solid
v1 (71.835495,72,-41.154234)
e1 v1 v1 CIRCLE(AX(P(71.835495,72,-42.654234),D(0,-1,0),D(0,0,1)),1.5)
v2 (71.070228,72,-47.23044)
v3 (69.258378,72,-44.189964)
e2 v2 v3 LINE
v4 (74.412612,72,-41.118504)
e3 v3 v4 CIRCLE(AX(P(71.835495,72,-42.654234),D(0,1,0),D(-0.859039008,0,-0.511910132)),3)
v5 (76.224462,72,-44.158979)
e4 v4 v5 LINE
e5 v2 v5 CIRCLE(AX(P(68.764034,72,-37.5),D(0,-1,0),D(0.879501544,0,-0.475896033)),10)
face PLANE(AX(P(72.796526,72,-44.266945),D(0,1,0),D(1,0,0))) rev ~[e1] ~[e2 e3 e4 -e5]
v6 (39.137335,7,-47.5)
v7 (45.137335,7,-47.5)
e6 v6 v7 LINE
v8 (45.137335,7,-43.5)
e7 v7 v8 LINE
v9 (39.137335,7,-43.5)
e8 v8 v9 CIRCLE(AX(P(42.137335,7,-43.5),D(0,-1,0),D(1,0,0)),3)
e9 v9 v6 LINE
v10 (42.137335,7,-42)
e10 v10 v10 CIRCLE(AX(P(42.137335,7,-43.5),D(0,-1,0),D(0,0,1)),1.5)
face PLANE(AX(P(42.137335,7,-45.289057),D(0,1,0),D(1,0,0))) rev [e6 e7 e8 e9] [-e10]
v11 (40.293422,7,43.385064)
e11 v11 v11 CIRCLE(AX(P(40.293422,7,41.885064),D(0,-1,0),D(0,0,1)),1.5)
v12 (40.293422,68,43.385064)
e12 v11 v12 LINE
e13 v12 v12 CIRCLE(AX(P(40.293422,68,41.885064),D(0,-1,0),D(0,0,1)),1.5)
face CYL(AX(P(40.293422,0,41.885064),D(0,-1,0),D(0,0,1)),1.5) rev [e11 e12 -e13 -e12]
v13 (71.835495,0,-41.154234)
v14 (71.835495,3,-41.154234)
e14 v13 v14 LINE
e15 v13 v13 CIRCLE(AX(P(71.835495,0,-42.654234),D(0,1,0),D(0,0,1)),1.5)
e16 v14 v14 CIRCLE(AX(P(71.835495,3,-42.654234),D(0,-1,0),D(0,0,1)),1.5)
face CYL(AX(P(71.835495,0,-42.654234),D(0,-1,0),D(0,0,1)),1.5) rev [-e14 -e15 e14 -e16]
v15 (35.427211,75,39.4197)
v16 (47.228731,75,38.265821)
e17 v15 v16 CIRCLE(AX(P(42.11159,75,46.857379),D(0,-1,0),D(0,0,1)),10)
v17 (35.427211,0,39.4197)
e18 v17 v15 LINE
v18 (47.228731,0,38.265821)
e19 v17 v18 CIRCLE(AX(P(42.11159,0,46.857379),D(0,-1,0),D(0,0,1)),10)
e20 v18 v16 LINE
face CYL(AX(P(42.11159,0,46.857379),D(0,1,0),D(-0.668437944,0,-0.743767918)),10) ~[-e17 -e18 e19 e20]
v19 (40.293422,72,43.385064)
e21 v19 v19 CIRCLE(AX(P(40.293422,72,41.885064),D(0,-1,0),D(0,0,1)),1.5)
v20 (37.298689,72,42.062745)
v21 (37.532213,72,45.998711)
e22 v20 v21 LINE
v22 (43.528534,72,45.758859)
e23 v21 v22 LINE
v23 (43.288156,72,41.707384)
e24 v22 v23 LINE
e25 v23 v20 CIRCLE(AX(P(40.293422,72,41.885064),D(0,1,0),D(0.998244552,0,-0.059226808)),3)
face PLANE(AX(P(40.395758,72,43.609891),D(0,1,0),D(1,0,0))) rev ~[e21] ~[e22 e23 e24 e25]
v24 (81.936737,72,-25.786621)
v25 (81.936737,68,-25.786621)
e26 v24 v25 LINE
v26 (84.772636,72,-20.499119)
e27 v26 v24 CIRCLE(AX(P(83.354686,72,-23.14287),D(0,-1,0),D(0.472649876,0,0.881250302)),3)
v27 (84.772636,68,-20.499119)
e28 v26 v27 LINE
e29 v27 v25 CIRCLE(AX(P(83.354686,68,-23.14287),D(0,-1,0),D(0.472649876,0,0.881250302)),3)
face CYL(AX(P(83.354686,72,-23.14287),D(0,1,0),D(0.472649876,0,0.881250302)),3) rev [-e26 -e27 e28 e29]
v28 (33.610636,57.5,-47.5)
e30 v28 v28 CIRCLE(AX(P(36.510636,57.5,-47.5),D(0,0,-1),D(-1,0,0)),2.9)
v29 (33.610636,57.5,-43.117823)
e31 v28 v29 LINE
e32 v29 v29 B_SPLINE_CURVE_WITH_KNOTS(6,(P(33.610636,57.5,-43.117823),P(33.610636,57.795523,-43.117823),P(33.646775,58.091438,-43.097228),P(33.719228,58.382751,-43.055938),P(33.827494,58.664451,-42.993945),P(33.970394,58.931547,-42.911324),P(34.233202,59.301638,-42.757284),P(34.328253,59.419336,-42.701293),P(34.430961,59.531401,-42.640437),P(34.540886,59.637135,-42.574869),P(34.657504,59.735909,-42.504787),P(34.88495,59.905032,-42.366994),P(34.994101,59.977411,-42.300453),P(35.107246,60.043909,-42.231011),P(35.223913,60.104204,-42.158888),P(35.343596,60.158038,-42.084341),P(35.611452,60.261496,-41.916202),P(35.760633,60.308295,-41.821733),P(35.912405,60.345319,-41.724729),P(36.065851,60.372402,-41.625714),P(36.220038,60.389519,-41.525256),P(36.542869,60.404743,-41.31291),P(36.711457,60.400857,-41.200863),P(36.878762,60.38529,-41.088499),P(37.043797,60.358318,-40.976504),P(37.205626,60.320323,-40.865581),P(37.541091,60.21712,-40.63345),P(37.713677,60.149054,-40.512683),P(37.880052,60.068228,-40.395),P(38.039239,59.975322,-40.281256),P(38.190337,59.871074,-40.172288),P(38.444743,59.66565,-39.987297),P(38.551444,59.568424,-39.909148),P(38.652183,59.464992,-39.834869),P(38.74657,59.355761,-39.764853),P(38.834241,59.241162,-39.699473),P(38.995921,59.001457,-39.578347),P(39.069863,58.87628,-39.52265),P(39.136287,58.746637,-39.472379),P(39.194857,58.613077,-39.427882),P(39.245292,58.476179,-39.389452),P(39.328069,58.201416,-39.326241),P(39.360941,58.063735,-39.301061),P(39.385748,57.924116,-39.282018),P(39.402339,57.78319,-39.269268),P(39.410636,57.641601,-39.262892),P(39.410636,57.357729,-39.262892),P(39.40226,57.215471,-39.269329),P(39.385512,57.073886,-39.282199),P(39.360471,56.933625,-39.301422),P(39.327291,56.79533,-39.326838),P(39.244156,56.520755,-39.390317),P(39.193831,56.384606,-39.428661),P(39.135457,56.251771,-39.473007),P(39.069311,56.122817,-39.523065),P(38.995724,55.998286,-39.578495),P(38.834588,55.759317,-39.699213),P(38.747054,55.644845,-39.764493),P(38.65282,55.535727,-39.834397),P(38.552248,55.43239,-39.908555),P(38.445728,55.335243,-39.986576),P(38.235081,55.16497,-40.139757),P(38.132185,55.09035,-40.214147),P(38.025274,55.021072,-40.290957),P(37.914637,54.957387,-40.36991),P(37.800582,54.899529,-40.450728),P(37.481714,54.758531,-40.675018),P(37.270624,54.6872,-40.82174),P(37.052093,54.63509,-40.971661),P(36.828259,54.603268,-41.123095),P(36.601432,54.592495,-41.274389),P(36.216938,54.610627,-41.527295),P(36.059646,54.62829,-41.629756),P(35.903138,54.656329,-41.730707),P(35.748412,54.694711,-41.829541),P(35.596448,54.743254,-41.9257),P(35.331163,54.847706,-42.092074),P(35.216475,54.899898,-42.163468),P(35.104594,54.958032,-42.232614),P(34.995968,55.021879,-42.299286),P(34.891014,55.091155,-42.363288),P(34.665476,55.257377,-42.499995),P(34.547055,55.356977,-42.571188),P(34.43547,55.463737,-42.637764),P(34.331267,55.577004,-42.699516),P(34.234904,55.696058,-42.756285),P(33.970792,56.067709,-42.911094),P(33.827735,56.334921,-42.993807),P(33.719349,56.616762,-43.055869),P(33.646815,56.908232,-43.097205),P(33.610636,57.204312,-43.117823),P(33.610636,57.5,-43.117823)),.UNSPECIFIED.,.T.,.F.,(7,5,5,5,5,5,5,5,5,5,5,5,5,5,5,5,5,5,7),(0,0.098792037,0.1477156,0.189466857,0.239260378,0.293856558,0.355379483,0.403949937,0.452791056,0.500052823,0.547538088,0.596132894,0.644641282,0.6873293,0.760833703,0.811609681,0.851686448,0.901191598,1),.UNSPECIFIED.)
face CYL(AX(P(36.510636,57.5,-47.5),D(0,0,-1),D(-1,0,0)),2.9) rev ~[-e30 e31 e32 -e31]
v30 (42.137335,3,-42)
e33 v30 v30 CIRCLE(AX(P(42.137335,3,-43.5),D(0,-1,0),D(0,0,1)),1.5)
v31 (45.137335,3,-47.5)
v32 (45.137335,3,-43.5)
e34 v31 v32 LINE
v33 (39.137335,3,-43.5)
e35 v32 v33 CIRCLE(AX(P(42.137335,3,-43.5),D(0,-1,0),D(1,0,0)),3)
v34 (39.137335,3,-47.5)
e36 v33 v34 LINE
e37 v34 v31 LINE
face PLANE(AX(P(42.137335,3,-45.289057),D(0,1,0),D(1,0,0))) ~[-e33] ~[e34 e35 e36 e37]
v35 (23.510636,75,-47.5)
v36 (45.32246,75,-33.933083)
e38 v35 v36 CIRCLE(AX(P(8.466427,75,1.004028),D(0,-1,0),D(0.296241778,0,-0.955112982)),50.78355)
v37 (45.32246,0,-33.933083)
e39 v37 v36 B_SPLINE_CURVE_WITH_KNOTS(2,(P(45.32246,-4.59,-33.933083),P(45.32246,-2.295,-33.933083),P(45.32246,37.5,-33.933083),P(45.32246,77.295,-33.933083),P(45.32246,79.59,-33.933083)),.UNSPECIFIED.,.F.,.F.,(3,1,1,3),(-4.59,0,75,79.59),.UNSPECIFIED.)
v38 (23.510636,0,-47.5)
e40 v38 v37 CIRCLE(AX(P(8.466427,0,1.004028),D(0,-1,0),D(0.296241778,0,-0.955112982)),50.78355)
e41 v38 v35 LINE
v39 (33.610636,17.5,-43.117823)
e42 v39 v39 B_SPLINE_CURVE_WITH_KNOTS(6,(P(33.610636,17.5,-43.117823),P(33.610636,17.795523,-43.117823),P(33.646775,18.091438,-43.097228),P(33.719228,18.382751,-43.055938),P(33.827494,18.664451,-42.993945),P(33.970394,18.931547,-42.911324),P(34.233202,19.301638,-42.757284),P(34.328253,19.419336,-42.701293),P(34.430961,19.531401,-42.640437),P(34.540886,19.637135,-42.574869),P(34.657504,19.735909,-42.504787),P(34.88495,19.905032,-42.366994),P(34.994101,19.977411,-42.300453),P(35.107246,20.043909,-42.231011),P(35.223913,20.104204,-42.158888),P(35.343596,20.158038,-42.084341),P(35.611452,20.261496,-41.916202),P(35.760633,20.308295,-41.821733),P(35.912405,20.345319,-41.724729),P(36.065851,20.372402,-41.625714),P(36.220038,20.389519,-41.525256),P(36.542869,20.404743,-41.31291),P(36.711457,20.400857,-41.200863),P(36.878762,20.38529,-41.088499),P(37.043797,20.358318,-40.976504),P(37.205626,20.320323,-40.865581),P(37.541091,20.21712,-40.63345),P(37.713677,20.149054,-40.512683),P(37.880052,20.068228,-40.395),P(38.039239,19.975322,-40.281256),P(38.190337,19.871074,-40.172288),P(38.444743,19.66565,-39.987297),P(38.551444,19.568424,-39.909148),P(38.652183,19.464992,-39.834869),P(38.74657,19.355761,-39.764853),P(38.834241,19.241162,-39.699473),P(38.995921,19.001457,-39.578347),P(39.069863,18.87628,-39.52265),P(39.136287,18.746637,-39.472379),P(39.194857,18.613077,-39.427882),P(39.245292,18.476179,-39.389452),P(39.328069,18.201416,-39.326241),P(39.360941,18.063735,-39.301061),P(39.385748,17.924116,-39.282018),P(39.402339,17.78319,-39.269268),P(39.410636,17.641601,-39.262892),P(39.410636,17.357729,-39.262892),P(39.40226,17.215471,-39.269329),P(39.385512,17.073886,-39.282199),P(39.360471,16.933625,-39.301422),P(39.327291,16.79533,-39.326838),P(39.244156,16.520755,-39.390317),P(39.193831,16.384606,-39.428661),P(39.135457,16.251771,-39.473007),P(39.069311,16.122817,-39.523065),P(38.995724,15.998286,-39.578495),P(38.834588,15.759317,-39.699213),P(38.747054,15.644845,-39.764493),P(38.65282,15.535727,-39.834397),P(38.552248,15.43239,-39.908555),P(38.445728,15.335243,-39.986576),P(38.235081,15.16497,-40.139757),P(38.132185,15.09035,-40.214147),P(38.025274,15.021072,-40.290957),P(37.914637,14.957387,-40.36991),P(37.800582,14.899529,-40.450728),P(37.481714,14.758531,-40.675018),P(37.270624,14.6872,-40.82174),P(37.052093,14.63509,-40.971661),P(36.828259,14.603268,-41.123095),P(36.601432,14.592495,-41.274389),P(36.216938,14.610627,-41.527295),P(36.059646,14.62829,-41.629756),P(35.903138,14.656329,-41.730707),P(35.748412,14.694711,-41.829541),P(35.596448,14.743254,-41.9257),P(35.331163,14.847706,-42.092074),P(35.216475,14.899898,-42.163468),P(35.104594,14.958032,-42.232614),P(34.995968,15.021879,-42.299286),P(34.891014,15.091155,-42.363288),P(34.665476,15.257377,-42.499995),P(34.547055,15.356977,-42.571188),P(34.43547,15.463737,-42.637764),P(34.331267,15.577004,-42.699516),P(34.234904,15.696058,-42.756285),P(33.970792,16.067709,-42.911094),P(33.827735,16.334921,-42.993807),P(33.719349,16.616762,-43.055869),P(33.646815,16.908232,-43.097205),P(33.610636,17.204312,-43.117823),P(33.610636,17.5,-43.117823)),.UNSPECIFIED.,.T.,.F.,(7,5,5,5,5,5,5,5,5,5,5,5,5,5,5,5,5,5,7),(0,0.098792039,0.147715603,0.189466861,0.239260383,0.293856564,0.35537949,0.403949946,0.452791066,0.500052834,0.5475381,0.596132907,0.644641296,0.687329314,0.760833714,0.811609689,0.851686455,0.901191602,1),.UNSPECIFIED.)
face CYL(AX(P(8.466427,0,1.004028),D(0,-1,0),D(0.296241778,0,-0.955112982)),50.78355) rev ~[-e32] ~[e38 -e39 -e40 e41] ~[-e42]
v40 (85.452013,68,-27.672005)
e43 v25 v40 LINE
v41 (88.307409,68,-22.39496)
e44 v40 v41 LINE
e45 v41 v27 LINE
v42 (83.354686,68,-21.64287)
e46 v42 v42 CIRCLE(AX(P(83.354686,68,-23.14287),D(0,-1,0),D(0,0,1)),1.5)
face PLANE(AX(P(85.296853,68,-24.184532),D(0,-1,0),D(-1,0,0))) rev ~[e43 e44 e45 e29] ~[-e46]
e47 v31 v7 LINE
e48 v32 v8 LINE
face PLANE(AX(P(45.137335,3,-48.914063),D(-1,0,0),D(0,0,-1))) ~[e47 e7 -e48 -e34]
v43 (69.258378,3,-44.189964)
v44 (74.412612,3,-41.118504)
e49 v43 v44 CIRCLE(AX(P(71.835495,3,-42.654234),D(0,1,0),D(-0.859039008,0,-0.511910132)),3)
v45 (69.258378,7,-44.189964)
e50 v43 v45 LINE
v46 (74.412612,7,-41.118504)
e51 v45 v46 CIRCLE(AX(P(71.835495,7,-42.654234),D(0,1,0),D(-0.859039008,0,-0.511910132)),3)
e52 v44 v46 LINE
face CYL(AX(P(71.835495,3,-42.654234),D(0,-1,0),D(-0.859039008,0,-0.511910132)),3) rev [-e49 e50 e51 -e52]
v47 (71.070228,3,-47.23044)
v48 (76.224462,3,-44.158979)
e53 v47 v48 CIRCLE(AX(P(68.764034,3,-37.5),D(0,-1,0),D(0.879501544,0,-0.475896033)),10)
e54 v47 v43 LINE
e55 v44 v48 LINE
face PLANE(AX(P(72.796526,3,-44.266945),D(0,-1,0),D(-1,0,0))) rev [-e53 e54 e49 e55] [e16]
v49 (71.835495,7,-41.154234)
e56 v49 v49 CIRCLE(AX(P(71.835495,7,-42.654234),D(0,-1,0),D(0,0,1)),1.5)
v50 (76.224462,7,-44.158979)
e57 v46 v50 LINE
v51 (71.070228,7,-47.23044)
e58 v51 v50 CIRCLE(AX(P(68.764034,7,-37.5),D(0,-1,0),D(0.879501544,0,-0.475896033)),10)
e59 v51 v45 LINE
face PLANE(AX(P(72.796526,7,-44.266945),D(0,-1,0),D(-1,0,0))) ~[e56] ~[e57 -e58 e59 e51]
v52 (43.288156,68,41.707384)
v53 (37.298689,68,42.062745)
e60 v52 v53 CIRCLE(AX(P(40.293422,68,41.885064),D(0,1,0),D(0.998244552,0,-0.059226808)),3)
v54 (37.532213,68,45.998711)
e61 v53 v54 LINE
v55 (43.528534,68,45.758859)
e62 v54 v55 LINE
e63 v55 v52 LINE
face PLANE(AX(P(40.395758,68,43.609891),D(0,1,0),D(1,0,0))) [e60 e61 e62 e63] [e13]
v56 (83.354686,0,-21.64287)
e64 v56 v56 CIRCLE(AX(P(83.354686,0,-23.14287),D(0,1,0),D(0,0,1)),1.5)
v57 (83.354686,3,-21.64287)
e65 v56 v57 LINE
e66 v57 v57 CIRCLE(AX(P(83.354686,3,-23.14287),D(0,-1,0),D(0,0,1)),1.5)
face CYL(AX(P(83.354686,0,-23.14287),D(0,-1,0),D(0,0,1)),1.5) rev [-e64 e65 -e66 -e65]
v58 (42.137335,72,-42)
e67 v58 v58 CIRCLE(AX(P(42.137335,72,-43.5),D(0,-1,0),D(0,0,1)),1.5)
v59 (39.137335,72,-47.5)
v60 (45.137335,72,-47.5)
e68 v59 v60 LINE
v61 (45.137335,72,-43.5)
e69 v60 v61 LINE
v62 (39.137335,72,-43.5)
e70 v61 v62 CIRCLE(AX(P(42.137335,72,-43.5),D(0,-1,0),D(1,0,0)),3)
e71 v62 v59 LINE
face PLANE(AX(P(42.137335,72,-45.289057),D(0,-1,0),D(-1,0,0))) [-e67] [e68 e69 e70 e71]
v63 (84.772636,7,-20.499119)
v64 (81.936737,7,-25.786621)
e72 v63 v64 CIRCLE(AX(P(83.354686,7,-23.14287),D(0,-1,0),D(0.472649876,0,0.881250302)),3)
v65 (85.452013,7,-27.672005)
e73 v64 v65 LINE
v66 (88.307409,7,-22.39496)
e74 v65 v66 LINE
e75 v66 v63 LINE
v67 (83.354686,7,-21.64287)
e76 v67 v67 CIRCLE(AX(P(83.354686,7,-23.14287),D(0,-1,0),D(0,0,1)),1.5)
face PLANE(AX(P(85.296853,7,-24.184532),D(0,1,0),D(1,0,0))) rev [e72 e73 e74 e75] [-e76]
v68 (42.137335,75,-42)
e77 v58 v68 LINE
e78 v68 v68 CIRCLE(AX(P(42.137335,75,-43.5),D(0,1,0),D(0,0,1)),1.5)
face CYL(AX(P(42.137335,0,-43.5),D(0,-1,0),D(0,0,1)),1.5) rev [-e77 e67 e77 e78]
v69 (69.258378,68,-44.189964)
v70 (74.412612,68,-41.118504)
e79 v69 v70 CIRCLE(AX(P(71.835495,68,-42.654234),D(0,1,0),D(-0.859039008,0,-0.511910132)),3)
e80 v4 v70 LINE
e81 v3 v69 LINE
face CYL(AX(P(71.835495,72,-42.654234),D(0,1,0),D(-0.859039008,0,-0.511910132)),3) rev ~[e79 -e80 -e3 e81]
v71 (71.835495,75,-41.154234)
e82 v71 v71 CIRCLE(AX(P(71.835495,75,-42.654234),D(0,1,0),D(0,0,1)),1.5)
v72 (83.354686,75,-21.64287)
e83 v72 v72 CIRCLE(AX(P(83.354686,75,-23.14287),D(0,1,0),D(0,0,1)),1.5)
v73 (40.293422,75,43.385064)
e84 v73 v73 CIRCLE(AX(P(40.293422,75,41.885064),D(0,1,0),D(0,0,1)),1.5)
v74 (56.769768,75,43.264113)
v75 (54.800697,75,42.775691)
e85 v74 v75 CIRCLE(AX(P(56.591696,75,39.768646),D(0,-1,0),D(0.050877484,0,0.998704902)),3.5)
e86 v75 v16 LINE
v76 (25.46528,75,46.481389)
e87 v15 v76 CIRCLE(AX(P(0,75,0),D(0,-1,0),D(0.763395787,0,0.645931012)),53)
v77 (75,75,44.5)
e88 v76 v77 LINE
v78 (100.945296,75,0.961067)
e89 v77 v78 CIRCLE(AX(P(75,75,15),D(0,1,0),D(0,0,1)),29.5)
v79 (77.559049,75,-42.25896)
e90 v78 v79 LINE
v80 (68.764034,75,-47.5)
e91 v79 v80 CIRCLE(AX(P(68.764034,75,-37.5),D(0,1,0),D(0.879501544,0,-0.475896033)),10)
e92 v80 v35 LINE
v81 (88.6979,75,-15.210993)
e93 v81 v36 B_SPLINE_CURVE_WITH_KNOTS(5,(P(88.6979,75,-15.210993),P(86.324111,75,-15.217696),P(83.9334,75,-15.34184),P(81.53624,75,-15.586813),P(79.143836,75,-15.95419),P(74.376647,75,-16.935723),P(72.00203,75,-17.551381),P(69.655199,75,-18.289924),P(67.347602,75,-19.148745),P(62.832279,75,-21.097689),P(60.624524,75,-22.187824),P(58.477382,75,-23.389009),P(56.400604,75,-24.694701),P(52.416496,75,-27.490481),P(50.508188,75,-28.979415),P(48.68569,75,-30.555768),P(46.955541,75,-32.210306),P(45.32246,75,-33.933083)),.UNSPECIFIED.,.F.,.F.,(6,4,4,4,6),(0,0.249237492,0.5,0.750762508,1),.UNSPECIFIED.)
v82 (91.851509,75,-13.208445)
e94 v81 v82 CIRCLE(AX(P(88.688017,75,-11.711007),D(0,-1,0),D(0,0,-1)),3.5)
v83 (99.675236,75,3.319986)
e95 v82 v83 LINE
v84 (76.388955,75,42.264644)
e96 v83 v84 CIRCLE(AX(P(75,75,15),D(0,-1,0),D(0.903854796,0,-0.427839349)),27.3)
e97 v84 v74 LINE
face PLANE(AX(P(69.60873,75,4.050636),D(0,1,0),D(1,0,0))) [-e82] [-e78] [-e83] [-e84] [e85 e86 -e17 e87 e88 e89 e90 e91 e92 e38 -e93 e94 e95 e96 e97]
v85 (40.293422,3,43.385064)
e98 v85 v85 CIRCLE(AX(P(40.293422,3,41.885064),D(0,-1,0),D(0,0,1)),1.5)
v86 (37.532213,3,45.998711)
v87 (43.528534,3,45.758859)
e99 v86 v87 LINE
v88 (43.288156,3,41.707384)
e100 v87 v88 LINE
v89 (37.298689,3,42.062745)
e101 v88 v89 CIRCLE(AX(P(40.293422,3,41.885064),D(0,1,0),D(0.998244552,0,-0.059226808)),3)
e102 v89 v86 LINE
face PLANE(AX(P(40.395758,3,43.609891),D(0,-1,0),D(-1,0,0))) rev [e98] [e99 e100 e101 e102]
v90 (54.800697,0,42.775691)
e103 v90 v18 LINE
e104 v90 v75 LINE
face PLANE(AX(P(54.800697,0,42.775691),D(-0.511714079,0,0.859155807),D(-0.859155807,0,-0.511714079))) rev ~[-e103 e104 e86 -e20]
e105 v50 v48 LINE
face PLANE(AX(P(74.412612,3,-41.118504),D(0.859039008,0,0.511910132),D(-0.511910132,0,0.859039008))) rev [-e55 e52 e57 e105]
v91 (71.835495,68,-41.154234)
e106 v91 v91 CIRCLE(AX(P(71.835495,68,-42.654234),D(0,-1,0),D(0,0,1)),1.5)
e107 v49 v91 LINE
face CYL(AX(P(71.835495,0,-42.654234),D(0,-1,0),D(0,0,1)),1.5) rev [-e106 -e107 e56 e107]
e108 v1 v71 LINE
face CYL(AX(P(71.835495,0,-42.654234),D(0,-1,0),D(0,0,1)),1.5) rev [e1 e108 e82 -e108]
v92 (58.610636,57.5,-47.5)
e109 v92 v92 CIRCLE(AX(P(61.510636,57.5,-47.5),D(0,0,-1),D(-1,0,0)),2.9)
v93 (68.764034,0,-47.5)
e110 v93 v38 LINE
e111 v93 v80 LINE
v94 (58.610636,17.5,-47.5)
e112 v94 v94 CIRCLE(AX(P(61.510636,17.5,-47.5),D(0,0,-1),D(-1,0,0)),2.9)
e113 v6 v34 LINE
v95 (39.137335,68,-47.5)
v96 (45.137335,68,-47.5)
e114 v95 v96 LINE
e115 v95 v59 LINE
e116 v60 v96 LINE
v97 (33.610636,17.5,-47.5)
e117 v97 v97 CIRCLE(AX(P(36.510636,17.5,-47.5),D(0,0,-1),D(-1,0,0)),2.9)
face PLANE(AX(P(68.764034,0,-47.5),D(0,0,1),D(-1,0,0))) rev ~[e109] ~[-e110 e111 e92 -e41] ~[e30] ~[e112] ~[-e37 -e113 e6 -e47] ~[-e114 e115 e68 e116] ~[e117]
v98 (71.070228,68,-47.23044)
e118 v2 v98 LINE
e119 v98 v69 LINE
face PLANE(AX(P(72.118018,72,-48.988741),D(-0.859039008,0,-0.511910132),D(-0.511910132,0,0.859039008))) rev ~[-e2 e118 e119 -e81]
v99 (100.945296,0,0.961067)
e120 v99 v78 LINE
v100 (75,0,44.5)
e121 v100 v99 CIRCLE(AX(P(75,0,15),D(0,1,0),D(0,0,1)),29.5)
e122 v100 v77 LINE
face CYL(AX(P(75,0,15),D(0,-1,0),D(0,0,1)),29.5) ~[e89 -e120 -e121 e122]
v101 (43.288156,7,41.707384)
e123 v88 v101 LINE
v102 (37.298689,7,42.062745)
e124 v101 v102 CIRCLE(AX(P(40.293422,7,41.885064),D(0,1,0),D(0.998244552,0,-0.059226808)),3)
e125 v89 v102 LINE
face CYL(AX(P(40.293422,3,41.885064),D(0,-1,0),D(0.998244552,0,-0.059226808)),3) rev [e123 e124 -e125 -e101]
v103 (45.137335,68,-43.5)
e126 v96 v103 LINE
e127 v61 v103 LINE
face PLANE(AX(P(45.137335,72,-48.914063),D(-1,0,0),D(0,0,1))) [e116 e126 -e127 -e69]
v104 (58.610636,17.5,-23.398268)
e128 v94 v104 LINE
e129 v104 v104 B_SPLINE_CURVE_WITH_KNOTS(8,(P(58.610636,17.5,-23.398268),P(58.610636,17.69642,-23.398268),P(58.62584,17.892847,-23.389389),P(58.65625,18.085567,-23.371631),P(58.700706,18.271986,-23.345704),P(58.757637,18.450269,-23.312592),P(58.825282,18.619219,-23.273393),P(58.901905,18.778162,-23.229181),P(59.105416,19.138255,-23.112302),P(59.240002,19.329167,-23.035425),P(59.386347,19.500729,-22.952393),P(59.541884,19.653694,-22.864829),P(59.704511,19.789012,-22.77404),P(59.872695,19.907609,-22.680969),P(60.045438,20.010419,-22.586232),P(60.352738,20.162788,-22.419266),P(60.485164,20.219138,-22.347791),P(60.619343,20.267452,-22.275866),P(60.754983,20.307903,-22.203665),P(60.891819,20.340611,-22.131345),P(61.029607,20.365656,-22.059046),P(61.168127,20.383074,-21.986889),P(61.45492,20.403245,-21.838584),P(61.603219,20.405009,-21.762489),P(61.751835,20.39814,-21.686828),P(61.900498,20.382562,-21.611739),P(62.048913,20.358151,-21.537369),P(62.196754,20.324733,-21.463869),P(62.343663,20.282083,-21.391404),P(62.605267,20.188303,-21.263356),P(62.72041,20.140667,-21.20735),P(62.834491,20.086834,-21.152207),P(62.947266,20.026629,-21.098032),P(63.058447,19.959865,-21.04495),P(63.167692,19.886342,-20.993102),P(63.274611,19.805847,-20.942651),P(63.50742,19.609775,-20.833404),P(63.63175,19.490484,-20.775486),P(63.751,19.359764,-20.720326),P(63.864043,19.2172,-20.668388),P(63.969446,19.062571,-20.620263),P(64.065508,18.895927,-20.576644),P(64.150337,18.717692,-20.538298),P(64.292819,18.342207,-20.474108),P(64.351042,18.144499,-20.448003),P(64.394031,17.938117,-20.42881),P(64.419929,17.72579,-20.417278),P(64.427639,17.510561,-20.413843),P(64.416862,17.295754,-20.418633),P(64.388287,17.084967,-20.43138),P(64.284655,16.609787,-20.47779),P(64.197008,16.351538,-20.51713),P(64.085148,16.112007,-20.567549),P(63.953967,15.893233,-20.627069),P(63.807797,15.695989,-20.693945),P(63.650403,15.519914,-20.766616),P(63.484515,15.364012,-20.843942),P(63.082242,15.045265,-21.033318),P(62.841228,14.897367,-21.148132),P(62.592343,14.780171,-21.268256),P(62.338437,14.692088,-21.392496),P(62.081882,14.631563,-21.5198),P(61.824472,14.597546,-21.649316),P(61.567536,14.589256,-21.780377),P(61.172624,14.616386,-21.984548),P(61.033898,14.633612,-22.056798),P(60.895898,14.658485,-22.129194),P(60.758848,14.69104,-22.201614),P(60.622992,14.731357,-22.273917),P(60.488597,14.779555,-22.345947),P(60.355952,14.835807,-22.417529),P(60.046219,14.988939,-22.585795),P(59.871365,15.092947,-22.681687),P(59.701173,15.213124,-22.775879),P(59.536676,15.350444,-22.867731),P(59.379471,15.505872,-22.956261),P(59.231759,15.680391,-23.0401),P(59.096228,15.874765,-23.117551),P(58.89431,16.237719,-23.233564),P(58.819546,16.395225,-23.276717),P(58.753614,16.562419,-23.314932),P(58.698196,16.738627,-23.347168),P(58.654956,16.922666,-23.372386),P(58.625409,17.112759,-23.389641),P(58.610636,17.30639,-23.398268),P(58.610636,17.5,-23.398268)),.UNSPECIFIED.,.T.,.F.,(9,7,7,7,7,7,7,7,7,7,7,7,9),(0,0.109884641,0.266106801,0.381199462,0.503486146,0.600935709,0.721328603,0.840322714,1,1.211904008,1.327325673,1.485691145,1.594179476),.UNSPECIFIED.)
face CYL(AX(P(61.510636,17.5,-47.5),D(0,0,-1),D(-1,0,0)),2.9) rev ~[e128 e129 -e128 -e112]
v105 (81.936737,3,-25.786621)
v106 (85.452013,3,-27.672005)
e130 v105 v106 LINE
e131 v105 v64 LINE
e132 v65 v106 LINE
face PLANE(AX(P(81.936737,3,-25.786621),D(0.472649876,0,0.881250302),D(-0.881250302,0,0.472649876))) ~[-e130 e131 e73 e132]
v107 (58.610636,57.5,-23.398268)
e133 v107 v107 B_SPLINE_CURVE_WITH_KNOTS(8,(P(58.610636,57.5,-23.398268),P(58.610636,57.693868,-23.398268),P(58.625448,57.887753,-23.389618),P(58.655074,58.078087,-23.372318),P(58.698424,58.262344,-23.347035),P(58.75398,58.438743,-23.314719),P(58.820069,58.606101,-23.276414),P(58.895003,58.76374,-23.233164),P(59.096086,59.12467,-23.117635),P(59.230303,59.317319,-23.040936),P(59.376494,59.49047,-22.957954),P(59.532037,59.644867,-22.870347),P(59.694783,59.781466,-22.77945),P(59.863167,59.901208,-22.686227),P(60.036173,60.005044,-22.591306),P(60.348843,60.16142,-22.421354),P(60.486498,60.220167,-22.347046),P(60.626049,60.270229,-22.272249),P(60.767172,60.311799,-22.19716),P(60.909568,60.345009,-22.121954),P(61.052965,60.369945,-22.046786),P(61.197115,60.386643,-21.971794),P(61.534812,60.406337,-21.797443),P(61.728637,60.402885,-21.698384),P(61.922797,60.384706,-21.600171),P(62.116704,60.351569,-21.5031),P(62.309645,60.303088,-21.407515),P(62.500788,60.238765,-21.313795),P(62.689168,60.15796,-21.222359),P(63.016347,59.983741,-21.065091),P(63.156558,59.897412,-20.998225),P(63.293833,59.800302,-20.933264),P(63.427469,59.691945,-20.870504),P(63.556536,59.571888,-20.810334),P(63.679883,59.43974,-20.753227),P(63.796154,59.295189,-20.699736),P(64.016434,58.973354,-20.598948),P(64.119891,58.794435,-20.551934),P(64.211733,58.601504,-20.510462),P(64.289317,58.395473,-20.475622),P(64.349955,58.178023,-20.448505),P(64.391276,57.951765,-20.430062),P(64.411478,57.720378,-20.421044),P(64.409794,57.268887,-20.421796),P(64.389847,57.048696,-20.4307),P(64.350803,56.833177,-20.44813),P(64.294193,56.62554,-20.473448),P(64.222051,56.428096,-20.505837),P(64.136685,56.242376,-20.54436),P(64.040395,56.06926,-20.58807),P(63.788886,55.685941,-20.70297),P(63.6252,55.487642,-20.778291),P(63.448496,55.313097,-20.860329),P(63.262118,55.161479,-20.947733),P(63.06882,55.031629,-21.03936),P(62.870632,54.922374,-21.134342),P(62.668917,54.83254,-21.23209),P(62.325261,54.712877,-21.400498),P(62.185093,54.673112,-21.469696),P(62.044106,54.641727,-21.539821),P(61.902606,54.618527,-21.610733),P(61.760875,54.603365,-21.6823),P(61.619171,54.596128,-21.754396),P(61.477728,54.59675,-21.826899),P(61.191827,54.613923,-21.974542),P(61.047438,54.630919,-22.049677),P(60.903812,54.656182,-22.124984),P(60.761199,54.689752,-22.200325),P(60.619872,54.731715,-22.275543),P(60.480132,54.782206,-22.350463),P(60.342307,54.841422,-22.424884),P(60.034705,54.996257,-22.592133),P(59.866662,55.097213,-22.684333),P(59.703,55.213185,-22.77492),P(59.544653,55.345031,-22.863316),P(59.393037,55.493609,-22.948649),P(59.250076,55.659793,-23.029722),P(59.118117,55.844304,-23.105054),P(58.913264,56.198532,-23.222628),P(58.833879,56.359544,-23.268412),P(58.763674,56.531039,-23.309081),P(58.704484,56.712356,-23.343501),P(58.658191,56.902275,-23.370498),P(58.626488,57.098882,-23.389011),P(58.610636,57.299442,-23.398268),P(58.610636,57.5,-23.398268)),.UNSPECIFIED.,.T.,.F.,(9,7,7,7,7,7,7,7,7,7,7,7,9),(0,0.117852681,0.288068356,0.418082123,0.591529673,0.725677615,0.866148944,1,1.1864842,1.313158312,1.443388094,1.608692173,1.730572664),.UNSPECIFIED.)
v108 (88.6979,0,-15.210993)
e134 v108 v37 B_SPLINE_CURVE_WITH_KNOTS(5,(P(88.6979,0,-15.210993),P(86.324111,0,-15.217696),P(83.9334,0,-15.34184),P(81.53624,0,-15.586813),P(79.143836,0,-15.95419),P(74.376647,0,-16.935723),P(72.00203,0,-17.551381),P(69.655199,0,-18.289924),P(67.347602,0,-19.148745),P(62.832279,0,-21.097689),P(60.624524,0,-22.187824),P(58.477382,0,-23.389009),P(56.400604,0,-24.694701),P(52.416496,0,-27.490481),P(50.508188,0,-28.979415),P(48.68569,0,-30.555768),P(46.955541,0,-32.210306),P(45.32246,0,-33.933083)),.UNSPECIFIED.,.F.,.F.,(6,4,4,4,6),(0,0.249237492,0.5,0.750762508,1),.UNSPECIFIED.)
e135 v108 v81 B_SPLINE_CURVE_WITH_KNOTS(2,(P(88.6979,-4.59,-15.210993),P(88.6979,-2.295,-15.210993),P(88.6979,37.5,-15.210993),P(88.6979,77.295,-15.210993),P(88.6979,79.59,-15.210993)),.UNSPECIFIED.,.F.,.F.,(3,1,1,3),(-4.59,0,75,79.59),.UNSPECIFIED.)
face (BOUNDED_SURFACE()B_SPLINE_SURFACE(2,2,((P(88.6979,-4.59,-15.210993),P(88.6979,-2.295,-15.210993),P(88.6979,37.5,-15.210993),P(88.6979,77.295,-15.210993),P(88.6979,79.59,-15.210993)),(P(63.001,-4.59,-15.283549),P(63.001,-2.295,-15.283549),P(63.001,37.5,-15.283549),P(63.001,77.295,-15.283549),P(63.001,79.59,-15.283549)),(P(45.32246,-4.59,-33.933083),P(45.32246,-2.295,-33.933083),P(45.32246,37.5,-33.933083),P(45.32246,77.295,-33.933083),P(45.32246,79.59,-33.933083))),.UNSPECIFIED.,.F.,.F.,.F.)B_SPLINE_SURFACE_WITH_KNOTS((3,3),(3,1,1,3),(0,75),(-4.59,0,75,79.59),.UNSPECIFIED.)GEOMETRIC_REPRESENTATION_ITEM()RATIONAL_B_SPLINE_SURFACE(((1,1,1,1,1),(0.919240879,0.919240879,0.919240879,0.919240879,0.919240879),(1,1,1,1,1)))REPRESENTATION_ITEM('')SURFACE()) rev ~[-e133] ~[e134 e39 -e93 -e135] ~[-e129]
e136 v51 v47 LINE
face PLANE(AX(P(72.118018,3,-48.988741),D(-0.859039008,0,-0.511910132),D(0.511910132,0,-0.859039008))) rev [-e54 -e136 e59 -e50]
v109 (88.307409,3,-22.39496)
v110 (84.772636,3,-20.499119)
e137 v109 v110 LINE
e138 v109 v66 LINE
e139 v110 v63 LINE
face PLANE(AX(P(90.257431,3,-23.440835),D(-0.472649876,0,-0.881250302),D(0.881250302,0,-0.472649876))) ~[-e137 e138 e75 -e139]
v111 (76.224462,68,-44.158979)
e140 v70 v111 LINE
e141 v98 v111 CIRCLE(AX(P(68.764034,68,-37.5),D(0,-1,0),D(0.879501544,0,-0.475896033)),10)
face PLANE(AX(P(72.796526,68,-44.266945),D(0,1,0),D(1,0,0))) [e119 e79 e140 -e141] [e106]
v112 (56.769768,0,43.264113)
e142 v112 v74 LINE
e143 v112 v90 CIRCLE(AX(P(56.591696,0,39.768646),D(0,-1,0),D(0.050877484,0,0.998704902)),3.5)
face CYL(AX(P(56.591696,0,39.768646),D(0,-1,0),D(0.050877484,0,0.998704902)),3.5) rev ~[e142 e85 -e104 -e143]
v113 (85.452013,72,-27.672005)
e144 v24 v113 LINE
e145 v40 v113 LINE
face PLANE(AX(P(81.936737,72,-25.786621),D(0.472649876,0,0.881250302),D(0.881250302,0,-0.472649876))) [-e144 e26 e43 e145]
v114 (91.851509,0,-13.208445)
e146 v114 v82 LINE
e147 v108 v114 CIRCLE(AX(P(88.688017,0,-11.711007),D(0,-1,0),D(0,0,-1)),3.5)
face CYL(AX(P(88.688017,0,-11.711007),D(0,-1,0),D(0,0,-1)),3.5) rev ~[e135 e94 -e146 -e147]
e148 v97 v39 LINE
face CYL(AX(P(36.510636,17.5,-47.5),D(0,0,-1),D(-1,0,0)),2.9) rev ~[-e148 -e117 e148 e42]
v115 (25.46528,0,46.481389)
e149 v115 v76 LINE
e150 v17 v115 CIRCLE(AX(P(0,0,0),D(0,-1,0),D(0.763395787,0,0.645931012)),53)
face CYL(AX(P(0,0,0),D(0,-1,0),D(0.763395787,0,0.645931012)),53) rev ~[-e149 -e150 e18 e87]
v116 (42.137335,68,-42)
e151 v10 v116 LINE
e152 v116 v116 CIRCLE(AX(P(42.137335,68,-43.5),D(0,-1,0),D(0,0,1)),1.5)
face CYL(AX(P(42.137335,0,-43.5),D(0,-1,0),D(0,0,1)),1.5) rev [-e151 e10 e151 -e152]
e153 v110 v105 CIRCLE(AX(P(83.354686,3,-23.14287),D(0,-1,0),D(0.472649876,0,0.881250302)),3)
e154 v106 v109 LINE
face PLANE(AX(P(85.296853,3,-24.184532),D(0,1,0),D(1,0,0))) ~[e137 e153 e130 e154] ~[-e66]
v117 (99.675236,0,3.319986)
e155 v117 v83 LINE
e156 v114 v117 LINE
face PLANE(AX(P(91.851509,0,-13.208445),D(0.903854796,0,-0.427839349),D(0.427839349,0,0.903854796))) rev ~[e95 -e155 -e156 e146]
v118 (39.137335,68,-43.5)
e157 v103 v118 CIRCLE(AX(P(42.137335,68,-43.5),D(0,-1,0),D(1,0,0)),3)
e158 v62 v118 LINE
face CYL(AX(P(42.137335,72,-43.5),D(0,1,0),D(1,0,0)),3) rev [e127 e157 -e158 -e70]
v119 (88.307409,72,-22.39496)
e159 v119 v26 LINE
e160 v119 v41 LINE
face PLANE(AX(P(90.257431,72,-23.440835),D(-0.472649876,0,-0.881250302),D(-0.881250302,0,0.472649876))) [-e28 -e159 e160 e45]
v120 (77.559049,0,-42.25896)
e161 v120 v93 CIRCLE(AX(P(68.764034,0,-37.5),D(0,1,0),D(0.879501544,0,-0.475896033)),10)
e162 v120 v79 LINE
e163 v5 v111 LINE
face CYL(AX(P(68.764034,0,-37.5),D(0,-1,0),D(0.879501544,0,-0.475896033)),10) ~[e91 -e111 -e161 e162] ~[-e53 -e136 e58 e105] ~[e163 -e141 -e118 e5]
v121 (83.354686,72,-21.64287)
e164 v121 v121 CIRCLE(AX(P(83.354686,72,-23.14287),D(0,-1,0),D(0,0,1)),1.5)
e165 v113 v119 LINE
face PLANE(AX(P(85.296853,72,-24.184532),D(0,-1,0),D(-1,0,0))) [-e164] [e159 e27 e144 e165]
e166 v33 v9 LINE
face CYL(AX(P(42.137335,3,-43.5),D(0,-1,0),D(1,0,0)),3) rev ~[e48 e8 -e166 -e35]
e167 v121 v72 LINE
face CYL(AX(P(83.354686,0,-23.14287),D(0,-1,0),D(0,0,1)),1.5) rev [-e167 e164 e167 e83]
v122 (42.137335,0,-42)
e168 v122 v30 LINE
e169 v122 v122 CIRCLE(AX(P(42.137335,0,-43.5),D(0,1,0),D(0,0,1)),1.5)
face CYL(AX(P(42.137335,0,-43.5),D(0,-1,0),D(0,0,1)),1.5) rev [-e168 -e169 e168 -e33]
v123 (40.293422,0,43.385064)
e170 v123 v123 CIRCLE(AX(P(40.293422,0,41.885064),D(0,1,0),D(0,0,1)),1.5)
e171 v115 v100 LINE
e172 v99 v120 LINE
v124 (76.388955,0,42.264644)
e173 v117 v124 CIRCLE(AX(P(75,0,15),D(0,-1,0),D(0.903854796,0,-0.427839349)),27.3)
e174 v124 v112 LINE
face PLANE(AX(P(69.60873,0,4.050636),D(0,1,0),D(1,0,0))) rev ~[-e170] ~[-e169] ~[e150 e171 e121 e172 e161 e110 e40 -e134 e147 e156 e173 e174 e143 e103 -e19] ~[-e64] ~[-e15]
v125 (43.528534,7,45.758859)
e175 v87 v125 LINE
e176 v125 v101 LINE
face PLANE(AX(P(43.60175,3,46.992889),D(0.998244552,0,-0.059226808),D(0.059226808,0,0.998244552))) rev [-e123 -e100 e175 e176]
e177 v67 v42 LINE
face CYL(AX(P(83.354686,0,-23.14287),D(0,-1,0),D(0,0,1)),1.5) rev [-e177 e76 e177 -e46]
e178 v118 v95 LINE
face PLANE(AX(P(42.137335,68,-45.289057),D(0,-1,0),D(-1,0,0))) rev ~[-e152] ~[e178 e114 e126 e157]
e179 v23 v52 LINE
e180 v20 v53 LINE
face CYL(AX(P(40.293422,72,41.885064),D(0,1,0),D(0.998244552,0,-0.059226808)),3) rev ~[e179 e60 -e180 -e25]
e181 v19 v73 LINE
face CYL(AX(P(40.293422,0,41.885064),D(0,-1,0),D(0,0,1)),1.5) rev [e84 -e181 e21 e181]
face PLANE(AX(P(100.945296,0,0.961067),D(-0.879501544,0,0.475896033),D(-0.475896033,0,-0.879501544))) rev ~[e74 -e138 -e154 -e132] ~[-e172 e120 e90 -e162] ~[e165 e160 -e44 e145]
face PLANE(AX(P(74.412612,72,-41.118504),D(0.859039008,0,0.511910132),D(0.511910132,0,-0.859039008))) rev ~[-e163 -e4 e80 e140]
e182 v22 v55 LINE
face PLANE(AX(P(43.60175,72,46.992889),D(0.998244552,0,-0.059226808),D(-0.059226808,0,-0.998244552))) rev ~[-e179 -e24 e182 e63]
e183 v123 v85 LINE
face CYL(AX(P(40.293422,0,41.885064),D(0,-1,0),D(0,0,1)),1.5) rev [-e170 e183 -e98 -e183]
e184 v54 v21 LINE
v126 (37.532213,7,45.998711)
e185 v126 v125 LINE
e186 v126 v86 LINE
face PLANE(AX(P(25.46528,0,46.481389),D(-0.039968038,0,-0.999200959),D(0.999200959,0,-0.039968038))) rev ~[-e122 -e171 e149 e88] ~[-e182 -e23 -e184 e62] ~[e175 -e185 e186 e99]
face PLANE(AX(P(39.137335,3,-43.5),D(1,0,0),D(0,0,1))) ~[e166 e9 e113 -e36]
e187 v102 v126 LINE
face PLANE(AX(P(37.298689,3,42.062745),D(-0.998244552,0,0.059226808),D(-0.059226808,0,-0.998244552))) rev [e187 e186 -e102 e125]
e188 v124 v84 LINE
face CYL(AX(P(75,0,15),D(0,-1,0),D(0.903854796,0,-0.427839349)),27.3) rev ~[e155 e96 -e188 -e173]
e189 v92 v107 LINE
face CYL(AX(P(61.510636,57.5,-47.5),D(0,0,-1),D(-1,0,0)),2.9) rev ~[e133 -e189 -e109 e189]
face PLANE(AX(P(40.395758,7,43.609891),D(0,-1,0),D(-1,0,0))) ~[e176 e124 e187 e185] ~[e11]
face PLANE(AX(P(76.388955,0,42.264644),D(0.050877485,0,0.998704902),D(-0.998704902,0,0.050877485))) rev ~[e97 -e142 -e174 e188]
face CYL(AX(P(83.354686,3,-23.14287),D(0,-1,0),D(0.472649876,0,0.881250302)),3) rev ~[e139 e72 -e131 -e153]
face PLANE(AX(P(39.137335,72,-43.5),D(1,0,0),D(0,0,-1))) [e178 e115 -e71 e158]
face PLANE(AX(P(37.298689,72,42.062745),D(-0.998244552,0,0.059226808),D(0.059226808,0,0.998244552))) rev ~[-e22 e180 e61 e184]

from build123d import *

# Parameters (mm, degrees)
SKETCH1_R           = 1.5
BOSS_EXTRUDE1_DEPTH = 75
FILLET1_R           = 60
FILLET2_R           = 10
CUT_EXTRUDE1_DEPTH  = 4
SKETCH4_R           = 2.9
CUT_EXTRUDE2_DEPTH  = 30


with BuildPart() as part:
    # Sketch1 → Boss-Extrude1 (new body)
    with BuildSketch(Plane(origin=(0, 0, 0), x_dir=(1, 0, 0), z_dir=(0, 1, 0))):
        with BuildLine():
            Line((56.591696316, 15.21100727), (88.688017257, 15.21100727))
            ThreePointArc((88.688017257, 15.21100727), (90.560043963, 14.668289132), (91.851509041, 13.208444991))
            Line((91.851509041, 13.208444991), (99.675235919, -3.319985773))
            ThreePointArc((99.675235919, -3.319985773), (98.430900842, -29.01009942), (76.38895534, -42.264643828))
            Line((76.38895534, -42.264643828), (56.769767513, -43.264113173))
            ThreePointArc((56.769767513, -43.264113173), (55.749067562, -43.165700148), (54.80069704, -42.775691342))
            Line((54.80069704, -42.775691342), (40.459976718, -34.234343632))
            ThreePointArc((40.459976718, -34.234343632), (33.526592489, -41.048356801), (25.465280206, -46.481388792))
            Line((25.465280206, -46.481388792), (75, -44.5))
            ThreePointArc((75, -44.5), (100.341650726, -30.101348895), (100.945295539, -0.961067014))
            Line((100.945295539, -0.961067014), (77.559049402, 42.258960334))
            ThreePointArc((77.559049402, 42.258960334), (73.883135286, 46.090390077), (68.764033965, 47.5))
            Line((68.764033965, 47.5), (23.510635891, 47.5))
            ThreePointArc((23.510635891, 47.5), (43.938112979, 35.337799568), (56.591696316, 15.21100727))
        make_face()
        with Locations(Location((71.835494757, 42.654234046, 0), (0, 0, 270))):
            Circle(SKETCH1_R, mode=Mode.SUBTRACT)
        with Locations(Location((40.293422434, -41.885064382, 0), (0, 0, 270))):
            Circle(SKETCH1_R, mode=Mode.SUBTRACT)
        with Locations(Location((42.137334928, 43.5, 0), (0, 0, 270))):
            Circle(SKETCH1_R, mode=Mode.SUBTRACT)
        with Locations(Location((83.354686129, 23.142870245, 0), (0, 0, 270))):
            Circle(SKETCH1_R, mode=Mode.SUBTRACT)
    extrude(amount=BOSS_EXTRUDE1_DEPTH)

    # Fillet1
    fillet1_edges = [part.edges().sort_by_distance(p)[0] for p in [
        (56.591696316, 37.5, -15.21100727),
    ]]
    fillet(fillet1_edges, radius=FILLET1_R)

    # Fillet2
    fillet2_edges = [part.edges().sort_by_distance(p)[0] for p in [
        (40.459976718, 37.5, 34.234343632),
    ]]
    fillet(fillet2_edges, radius=FILLET2_R)

    # Sketch3 → Cut-Extrude1 (cut)
    with BuildSketch(Plane(origin=(0, 72, 0), x_dir=(1, 0, 0), z_dir=(0, 1, 0))):
        with BuildLine():
            Line((39.137334928, 43.5), (39.137334928, 48.914062906))
            Line((39.137334928, 48.914062906), (45.137334928, 48.914062906))
            Line((45.137334928, 48.914062906), (45.137334928, 43.5))
            ThreePointArc((45.137334928, 43.5), (42.137334928, 40.5), (39.137334928, 43.5))
        make_face()
        with BuildLine():
            Line((74.41261178, 41.11850365), (77.272251707, 45.917280019))
            Line((77.272251707, 45.917280019), (72.118017661, 48.988740812))
            Line((72.118017661, 48.988740812), (69.258377734, 44.189964442))
            ThreePointArc((69.258377734, 44.189964442), (70.299764361, 40.077117023), (74.41261178, 41.11850365))
        make_face()
        with BuildLine():
            Line((81.936736501, 25.786621151), (87.421531644, 28.728336732))
            Line((87.421531644, 28.728336732), (90.2574309, 23.44083492))
            Line((90.2574309, 23.44083492), (84.772635757, 20.499119339))
            ThreePointArc((84.772635757, 20.499119339), (80.710935223, 21.724920617), (81.936736501, 25.786621151))
        make_face()
        with BuildLine():
            Line((37.298688778, -42.062744804), (37.612282879, -47.348250065))
            Line((37.612282879, -47.348250065), (43.60175019, -46.99288922))
            Line((43.60175019, -46.99288922), (43.288156089, -41.707383959))
            ThreePointArc((43.288156089, -41.707383959), (40.115742012, -38.890330726), (37.298688778, -42.062744804))
        make_face()
    cut_extrude1 = extrude(amount=-CUT_EXTRUDE1_DEPTH, mode=Mode.SUBTRACT)

    # Mirror1: Cut-Extrude1 across plane
    add(cut_extrude1.mirror(Plane.ZX.offset(37.5)), mode=Mode.SUBTRACT)

    # Sketch4 → Cut-Extrude2 (cut)
    with BuildSketch(Plane(origin=(0, 0, -47.5), x_dir=(-1, 0, 0), z_dir=(0, 0, -1))):
        with Locations((-61.510635891, 57.5)):
            Circle(SKETCH4_R)
        with Locations((-36.510635891, 57.5)):
            Circle(SKETCH4_R)
        with Locations((-36.510635891, 17.5)):
            Circle(SKETCH4_R)
        with Locations((-61.510635891, 17.5)):
            Circle(SKETCH4_R)
    extrude(amount=-CUT_EXTRUDE2_DEPTH, mode=Mode.SUBTRACT)


solid = part.part
